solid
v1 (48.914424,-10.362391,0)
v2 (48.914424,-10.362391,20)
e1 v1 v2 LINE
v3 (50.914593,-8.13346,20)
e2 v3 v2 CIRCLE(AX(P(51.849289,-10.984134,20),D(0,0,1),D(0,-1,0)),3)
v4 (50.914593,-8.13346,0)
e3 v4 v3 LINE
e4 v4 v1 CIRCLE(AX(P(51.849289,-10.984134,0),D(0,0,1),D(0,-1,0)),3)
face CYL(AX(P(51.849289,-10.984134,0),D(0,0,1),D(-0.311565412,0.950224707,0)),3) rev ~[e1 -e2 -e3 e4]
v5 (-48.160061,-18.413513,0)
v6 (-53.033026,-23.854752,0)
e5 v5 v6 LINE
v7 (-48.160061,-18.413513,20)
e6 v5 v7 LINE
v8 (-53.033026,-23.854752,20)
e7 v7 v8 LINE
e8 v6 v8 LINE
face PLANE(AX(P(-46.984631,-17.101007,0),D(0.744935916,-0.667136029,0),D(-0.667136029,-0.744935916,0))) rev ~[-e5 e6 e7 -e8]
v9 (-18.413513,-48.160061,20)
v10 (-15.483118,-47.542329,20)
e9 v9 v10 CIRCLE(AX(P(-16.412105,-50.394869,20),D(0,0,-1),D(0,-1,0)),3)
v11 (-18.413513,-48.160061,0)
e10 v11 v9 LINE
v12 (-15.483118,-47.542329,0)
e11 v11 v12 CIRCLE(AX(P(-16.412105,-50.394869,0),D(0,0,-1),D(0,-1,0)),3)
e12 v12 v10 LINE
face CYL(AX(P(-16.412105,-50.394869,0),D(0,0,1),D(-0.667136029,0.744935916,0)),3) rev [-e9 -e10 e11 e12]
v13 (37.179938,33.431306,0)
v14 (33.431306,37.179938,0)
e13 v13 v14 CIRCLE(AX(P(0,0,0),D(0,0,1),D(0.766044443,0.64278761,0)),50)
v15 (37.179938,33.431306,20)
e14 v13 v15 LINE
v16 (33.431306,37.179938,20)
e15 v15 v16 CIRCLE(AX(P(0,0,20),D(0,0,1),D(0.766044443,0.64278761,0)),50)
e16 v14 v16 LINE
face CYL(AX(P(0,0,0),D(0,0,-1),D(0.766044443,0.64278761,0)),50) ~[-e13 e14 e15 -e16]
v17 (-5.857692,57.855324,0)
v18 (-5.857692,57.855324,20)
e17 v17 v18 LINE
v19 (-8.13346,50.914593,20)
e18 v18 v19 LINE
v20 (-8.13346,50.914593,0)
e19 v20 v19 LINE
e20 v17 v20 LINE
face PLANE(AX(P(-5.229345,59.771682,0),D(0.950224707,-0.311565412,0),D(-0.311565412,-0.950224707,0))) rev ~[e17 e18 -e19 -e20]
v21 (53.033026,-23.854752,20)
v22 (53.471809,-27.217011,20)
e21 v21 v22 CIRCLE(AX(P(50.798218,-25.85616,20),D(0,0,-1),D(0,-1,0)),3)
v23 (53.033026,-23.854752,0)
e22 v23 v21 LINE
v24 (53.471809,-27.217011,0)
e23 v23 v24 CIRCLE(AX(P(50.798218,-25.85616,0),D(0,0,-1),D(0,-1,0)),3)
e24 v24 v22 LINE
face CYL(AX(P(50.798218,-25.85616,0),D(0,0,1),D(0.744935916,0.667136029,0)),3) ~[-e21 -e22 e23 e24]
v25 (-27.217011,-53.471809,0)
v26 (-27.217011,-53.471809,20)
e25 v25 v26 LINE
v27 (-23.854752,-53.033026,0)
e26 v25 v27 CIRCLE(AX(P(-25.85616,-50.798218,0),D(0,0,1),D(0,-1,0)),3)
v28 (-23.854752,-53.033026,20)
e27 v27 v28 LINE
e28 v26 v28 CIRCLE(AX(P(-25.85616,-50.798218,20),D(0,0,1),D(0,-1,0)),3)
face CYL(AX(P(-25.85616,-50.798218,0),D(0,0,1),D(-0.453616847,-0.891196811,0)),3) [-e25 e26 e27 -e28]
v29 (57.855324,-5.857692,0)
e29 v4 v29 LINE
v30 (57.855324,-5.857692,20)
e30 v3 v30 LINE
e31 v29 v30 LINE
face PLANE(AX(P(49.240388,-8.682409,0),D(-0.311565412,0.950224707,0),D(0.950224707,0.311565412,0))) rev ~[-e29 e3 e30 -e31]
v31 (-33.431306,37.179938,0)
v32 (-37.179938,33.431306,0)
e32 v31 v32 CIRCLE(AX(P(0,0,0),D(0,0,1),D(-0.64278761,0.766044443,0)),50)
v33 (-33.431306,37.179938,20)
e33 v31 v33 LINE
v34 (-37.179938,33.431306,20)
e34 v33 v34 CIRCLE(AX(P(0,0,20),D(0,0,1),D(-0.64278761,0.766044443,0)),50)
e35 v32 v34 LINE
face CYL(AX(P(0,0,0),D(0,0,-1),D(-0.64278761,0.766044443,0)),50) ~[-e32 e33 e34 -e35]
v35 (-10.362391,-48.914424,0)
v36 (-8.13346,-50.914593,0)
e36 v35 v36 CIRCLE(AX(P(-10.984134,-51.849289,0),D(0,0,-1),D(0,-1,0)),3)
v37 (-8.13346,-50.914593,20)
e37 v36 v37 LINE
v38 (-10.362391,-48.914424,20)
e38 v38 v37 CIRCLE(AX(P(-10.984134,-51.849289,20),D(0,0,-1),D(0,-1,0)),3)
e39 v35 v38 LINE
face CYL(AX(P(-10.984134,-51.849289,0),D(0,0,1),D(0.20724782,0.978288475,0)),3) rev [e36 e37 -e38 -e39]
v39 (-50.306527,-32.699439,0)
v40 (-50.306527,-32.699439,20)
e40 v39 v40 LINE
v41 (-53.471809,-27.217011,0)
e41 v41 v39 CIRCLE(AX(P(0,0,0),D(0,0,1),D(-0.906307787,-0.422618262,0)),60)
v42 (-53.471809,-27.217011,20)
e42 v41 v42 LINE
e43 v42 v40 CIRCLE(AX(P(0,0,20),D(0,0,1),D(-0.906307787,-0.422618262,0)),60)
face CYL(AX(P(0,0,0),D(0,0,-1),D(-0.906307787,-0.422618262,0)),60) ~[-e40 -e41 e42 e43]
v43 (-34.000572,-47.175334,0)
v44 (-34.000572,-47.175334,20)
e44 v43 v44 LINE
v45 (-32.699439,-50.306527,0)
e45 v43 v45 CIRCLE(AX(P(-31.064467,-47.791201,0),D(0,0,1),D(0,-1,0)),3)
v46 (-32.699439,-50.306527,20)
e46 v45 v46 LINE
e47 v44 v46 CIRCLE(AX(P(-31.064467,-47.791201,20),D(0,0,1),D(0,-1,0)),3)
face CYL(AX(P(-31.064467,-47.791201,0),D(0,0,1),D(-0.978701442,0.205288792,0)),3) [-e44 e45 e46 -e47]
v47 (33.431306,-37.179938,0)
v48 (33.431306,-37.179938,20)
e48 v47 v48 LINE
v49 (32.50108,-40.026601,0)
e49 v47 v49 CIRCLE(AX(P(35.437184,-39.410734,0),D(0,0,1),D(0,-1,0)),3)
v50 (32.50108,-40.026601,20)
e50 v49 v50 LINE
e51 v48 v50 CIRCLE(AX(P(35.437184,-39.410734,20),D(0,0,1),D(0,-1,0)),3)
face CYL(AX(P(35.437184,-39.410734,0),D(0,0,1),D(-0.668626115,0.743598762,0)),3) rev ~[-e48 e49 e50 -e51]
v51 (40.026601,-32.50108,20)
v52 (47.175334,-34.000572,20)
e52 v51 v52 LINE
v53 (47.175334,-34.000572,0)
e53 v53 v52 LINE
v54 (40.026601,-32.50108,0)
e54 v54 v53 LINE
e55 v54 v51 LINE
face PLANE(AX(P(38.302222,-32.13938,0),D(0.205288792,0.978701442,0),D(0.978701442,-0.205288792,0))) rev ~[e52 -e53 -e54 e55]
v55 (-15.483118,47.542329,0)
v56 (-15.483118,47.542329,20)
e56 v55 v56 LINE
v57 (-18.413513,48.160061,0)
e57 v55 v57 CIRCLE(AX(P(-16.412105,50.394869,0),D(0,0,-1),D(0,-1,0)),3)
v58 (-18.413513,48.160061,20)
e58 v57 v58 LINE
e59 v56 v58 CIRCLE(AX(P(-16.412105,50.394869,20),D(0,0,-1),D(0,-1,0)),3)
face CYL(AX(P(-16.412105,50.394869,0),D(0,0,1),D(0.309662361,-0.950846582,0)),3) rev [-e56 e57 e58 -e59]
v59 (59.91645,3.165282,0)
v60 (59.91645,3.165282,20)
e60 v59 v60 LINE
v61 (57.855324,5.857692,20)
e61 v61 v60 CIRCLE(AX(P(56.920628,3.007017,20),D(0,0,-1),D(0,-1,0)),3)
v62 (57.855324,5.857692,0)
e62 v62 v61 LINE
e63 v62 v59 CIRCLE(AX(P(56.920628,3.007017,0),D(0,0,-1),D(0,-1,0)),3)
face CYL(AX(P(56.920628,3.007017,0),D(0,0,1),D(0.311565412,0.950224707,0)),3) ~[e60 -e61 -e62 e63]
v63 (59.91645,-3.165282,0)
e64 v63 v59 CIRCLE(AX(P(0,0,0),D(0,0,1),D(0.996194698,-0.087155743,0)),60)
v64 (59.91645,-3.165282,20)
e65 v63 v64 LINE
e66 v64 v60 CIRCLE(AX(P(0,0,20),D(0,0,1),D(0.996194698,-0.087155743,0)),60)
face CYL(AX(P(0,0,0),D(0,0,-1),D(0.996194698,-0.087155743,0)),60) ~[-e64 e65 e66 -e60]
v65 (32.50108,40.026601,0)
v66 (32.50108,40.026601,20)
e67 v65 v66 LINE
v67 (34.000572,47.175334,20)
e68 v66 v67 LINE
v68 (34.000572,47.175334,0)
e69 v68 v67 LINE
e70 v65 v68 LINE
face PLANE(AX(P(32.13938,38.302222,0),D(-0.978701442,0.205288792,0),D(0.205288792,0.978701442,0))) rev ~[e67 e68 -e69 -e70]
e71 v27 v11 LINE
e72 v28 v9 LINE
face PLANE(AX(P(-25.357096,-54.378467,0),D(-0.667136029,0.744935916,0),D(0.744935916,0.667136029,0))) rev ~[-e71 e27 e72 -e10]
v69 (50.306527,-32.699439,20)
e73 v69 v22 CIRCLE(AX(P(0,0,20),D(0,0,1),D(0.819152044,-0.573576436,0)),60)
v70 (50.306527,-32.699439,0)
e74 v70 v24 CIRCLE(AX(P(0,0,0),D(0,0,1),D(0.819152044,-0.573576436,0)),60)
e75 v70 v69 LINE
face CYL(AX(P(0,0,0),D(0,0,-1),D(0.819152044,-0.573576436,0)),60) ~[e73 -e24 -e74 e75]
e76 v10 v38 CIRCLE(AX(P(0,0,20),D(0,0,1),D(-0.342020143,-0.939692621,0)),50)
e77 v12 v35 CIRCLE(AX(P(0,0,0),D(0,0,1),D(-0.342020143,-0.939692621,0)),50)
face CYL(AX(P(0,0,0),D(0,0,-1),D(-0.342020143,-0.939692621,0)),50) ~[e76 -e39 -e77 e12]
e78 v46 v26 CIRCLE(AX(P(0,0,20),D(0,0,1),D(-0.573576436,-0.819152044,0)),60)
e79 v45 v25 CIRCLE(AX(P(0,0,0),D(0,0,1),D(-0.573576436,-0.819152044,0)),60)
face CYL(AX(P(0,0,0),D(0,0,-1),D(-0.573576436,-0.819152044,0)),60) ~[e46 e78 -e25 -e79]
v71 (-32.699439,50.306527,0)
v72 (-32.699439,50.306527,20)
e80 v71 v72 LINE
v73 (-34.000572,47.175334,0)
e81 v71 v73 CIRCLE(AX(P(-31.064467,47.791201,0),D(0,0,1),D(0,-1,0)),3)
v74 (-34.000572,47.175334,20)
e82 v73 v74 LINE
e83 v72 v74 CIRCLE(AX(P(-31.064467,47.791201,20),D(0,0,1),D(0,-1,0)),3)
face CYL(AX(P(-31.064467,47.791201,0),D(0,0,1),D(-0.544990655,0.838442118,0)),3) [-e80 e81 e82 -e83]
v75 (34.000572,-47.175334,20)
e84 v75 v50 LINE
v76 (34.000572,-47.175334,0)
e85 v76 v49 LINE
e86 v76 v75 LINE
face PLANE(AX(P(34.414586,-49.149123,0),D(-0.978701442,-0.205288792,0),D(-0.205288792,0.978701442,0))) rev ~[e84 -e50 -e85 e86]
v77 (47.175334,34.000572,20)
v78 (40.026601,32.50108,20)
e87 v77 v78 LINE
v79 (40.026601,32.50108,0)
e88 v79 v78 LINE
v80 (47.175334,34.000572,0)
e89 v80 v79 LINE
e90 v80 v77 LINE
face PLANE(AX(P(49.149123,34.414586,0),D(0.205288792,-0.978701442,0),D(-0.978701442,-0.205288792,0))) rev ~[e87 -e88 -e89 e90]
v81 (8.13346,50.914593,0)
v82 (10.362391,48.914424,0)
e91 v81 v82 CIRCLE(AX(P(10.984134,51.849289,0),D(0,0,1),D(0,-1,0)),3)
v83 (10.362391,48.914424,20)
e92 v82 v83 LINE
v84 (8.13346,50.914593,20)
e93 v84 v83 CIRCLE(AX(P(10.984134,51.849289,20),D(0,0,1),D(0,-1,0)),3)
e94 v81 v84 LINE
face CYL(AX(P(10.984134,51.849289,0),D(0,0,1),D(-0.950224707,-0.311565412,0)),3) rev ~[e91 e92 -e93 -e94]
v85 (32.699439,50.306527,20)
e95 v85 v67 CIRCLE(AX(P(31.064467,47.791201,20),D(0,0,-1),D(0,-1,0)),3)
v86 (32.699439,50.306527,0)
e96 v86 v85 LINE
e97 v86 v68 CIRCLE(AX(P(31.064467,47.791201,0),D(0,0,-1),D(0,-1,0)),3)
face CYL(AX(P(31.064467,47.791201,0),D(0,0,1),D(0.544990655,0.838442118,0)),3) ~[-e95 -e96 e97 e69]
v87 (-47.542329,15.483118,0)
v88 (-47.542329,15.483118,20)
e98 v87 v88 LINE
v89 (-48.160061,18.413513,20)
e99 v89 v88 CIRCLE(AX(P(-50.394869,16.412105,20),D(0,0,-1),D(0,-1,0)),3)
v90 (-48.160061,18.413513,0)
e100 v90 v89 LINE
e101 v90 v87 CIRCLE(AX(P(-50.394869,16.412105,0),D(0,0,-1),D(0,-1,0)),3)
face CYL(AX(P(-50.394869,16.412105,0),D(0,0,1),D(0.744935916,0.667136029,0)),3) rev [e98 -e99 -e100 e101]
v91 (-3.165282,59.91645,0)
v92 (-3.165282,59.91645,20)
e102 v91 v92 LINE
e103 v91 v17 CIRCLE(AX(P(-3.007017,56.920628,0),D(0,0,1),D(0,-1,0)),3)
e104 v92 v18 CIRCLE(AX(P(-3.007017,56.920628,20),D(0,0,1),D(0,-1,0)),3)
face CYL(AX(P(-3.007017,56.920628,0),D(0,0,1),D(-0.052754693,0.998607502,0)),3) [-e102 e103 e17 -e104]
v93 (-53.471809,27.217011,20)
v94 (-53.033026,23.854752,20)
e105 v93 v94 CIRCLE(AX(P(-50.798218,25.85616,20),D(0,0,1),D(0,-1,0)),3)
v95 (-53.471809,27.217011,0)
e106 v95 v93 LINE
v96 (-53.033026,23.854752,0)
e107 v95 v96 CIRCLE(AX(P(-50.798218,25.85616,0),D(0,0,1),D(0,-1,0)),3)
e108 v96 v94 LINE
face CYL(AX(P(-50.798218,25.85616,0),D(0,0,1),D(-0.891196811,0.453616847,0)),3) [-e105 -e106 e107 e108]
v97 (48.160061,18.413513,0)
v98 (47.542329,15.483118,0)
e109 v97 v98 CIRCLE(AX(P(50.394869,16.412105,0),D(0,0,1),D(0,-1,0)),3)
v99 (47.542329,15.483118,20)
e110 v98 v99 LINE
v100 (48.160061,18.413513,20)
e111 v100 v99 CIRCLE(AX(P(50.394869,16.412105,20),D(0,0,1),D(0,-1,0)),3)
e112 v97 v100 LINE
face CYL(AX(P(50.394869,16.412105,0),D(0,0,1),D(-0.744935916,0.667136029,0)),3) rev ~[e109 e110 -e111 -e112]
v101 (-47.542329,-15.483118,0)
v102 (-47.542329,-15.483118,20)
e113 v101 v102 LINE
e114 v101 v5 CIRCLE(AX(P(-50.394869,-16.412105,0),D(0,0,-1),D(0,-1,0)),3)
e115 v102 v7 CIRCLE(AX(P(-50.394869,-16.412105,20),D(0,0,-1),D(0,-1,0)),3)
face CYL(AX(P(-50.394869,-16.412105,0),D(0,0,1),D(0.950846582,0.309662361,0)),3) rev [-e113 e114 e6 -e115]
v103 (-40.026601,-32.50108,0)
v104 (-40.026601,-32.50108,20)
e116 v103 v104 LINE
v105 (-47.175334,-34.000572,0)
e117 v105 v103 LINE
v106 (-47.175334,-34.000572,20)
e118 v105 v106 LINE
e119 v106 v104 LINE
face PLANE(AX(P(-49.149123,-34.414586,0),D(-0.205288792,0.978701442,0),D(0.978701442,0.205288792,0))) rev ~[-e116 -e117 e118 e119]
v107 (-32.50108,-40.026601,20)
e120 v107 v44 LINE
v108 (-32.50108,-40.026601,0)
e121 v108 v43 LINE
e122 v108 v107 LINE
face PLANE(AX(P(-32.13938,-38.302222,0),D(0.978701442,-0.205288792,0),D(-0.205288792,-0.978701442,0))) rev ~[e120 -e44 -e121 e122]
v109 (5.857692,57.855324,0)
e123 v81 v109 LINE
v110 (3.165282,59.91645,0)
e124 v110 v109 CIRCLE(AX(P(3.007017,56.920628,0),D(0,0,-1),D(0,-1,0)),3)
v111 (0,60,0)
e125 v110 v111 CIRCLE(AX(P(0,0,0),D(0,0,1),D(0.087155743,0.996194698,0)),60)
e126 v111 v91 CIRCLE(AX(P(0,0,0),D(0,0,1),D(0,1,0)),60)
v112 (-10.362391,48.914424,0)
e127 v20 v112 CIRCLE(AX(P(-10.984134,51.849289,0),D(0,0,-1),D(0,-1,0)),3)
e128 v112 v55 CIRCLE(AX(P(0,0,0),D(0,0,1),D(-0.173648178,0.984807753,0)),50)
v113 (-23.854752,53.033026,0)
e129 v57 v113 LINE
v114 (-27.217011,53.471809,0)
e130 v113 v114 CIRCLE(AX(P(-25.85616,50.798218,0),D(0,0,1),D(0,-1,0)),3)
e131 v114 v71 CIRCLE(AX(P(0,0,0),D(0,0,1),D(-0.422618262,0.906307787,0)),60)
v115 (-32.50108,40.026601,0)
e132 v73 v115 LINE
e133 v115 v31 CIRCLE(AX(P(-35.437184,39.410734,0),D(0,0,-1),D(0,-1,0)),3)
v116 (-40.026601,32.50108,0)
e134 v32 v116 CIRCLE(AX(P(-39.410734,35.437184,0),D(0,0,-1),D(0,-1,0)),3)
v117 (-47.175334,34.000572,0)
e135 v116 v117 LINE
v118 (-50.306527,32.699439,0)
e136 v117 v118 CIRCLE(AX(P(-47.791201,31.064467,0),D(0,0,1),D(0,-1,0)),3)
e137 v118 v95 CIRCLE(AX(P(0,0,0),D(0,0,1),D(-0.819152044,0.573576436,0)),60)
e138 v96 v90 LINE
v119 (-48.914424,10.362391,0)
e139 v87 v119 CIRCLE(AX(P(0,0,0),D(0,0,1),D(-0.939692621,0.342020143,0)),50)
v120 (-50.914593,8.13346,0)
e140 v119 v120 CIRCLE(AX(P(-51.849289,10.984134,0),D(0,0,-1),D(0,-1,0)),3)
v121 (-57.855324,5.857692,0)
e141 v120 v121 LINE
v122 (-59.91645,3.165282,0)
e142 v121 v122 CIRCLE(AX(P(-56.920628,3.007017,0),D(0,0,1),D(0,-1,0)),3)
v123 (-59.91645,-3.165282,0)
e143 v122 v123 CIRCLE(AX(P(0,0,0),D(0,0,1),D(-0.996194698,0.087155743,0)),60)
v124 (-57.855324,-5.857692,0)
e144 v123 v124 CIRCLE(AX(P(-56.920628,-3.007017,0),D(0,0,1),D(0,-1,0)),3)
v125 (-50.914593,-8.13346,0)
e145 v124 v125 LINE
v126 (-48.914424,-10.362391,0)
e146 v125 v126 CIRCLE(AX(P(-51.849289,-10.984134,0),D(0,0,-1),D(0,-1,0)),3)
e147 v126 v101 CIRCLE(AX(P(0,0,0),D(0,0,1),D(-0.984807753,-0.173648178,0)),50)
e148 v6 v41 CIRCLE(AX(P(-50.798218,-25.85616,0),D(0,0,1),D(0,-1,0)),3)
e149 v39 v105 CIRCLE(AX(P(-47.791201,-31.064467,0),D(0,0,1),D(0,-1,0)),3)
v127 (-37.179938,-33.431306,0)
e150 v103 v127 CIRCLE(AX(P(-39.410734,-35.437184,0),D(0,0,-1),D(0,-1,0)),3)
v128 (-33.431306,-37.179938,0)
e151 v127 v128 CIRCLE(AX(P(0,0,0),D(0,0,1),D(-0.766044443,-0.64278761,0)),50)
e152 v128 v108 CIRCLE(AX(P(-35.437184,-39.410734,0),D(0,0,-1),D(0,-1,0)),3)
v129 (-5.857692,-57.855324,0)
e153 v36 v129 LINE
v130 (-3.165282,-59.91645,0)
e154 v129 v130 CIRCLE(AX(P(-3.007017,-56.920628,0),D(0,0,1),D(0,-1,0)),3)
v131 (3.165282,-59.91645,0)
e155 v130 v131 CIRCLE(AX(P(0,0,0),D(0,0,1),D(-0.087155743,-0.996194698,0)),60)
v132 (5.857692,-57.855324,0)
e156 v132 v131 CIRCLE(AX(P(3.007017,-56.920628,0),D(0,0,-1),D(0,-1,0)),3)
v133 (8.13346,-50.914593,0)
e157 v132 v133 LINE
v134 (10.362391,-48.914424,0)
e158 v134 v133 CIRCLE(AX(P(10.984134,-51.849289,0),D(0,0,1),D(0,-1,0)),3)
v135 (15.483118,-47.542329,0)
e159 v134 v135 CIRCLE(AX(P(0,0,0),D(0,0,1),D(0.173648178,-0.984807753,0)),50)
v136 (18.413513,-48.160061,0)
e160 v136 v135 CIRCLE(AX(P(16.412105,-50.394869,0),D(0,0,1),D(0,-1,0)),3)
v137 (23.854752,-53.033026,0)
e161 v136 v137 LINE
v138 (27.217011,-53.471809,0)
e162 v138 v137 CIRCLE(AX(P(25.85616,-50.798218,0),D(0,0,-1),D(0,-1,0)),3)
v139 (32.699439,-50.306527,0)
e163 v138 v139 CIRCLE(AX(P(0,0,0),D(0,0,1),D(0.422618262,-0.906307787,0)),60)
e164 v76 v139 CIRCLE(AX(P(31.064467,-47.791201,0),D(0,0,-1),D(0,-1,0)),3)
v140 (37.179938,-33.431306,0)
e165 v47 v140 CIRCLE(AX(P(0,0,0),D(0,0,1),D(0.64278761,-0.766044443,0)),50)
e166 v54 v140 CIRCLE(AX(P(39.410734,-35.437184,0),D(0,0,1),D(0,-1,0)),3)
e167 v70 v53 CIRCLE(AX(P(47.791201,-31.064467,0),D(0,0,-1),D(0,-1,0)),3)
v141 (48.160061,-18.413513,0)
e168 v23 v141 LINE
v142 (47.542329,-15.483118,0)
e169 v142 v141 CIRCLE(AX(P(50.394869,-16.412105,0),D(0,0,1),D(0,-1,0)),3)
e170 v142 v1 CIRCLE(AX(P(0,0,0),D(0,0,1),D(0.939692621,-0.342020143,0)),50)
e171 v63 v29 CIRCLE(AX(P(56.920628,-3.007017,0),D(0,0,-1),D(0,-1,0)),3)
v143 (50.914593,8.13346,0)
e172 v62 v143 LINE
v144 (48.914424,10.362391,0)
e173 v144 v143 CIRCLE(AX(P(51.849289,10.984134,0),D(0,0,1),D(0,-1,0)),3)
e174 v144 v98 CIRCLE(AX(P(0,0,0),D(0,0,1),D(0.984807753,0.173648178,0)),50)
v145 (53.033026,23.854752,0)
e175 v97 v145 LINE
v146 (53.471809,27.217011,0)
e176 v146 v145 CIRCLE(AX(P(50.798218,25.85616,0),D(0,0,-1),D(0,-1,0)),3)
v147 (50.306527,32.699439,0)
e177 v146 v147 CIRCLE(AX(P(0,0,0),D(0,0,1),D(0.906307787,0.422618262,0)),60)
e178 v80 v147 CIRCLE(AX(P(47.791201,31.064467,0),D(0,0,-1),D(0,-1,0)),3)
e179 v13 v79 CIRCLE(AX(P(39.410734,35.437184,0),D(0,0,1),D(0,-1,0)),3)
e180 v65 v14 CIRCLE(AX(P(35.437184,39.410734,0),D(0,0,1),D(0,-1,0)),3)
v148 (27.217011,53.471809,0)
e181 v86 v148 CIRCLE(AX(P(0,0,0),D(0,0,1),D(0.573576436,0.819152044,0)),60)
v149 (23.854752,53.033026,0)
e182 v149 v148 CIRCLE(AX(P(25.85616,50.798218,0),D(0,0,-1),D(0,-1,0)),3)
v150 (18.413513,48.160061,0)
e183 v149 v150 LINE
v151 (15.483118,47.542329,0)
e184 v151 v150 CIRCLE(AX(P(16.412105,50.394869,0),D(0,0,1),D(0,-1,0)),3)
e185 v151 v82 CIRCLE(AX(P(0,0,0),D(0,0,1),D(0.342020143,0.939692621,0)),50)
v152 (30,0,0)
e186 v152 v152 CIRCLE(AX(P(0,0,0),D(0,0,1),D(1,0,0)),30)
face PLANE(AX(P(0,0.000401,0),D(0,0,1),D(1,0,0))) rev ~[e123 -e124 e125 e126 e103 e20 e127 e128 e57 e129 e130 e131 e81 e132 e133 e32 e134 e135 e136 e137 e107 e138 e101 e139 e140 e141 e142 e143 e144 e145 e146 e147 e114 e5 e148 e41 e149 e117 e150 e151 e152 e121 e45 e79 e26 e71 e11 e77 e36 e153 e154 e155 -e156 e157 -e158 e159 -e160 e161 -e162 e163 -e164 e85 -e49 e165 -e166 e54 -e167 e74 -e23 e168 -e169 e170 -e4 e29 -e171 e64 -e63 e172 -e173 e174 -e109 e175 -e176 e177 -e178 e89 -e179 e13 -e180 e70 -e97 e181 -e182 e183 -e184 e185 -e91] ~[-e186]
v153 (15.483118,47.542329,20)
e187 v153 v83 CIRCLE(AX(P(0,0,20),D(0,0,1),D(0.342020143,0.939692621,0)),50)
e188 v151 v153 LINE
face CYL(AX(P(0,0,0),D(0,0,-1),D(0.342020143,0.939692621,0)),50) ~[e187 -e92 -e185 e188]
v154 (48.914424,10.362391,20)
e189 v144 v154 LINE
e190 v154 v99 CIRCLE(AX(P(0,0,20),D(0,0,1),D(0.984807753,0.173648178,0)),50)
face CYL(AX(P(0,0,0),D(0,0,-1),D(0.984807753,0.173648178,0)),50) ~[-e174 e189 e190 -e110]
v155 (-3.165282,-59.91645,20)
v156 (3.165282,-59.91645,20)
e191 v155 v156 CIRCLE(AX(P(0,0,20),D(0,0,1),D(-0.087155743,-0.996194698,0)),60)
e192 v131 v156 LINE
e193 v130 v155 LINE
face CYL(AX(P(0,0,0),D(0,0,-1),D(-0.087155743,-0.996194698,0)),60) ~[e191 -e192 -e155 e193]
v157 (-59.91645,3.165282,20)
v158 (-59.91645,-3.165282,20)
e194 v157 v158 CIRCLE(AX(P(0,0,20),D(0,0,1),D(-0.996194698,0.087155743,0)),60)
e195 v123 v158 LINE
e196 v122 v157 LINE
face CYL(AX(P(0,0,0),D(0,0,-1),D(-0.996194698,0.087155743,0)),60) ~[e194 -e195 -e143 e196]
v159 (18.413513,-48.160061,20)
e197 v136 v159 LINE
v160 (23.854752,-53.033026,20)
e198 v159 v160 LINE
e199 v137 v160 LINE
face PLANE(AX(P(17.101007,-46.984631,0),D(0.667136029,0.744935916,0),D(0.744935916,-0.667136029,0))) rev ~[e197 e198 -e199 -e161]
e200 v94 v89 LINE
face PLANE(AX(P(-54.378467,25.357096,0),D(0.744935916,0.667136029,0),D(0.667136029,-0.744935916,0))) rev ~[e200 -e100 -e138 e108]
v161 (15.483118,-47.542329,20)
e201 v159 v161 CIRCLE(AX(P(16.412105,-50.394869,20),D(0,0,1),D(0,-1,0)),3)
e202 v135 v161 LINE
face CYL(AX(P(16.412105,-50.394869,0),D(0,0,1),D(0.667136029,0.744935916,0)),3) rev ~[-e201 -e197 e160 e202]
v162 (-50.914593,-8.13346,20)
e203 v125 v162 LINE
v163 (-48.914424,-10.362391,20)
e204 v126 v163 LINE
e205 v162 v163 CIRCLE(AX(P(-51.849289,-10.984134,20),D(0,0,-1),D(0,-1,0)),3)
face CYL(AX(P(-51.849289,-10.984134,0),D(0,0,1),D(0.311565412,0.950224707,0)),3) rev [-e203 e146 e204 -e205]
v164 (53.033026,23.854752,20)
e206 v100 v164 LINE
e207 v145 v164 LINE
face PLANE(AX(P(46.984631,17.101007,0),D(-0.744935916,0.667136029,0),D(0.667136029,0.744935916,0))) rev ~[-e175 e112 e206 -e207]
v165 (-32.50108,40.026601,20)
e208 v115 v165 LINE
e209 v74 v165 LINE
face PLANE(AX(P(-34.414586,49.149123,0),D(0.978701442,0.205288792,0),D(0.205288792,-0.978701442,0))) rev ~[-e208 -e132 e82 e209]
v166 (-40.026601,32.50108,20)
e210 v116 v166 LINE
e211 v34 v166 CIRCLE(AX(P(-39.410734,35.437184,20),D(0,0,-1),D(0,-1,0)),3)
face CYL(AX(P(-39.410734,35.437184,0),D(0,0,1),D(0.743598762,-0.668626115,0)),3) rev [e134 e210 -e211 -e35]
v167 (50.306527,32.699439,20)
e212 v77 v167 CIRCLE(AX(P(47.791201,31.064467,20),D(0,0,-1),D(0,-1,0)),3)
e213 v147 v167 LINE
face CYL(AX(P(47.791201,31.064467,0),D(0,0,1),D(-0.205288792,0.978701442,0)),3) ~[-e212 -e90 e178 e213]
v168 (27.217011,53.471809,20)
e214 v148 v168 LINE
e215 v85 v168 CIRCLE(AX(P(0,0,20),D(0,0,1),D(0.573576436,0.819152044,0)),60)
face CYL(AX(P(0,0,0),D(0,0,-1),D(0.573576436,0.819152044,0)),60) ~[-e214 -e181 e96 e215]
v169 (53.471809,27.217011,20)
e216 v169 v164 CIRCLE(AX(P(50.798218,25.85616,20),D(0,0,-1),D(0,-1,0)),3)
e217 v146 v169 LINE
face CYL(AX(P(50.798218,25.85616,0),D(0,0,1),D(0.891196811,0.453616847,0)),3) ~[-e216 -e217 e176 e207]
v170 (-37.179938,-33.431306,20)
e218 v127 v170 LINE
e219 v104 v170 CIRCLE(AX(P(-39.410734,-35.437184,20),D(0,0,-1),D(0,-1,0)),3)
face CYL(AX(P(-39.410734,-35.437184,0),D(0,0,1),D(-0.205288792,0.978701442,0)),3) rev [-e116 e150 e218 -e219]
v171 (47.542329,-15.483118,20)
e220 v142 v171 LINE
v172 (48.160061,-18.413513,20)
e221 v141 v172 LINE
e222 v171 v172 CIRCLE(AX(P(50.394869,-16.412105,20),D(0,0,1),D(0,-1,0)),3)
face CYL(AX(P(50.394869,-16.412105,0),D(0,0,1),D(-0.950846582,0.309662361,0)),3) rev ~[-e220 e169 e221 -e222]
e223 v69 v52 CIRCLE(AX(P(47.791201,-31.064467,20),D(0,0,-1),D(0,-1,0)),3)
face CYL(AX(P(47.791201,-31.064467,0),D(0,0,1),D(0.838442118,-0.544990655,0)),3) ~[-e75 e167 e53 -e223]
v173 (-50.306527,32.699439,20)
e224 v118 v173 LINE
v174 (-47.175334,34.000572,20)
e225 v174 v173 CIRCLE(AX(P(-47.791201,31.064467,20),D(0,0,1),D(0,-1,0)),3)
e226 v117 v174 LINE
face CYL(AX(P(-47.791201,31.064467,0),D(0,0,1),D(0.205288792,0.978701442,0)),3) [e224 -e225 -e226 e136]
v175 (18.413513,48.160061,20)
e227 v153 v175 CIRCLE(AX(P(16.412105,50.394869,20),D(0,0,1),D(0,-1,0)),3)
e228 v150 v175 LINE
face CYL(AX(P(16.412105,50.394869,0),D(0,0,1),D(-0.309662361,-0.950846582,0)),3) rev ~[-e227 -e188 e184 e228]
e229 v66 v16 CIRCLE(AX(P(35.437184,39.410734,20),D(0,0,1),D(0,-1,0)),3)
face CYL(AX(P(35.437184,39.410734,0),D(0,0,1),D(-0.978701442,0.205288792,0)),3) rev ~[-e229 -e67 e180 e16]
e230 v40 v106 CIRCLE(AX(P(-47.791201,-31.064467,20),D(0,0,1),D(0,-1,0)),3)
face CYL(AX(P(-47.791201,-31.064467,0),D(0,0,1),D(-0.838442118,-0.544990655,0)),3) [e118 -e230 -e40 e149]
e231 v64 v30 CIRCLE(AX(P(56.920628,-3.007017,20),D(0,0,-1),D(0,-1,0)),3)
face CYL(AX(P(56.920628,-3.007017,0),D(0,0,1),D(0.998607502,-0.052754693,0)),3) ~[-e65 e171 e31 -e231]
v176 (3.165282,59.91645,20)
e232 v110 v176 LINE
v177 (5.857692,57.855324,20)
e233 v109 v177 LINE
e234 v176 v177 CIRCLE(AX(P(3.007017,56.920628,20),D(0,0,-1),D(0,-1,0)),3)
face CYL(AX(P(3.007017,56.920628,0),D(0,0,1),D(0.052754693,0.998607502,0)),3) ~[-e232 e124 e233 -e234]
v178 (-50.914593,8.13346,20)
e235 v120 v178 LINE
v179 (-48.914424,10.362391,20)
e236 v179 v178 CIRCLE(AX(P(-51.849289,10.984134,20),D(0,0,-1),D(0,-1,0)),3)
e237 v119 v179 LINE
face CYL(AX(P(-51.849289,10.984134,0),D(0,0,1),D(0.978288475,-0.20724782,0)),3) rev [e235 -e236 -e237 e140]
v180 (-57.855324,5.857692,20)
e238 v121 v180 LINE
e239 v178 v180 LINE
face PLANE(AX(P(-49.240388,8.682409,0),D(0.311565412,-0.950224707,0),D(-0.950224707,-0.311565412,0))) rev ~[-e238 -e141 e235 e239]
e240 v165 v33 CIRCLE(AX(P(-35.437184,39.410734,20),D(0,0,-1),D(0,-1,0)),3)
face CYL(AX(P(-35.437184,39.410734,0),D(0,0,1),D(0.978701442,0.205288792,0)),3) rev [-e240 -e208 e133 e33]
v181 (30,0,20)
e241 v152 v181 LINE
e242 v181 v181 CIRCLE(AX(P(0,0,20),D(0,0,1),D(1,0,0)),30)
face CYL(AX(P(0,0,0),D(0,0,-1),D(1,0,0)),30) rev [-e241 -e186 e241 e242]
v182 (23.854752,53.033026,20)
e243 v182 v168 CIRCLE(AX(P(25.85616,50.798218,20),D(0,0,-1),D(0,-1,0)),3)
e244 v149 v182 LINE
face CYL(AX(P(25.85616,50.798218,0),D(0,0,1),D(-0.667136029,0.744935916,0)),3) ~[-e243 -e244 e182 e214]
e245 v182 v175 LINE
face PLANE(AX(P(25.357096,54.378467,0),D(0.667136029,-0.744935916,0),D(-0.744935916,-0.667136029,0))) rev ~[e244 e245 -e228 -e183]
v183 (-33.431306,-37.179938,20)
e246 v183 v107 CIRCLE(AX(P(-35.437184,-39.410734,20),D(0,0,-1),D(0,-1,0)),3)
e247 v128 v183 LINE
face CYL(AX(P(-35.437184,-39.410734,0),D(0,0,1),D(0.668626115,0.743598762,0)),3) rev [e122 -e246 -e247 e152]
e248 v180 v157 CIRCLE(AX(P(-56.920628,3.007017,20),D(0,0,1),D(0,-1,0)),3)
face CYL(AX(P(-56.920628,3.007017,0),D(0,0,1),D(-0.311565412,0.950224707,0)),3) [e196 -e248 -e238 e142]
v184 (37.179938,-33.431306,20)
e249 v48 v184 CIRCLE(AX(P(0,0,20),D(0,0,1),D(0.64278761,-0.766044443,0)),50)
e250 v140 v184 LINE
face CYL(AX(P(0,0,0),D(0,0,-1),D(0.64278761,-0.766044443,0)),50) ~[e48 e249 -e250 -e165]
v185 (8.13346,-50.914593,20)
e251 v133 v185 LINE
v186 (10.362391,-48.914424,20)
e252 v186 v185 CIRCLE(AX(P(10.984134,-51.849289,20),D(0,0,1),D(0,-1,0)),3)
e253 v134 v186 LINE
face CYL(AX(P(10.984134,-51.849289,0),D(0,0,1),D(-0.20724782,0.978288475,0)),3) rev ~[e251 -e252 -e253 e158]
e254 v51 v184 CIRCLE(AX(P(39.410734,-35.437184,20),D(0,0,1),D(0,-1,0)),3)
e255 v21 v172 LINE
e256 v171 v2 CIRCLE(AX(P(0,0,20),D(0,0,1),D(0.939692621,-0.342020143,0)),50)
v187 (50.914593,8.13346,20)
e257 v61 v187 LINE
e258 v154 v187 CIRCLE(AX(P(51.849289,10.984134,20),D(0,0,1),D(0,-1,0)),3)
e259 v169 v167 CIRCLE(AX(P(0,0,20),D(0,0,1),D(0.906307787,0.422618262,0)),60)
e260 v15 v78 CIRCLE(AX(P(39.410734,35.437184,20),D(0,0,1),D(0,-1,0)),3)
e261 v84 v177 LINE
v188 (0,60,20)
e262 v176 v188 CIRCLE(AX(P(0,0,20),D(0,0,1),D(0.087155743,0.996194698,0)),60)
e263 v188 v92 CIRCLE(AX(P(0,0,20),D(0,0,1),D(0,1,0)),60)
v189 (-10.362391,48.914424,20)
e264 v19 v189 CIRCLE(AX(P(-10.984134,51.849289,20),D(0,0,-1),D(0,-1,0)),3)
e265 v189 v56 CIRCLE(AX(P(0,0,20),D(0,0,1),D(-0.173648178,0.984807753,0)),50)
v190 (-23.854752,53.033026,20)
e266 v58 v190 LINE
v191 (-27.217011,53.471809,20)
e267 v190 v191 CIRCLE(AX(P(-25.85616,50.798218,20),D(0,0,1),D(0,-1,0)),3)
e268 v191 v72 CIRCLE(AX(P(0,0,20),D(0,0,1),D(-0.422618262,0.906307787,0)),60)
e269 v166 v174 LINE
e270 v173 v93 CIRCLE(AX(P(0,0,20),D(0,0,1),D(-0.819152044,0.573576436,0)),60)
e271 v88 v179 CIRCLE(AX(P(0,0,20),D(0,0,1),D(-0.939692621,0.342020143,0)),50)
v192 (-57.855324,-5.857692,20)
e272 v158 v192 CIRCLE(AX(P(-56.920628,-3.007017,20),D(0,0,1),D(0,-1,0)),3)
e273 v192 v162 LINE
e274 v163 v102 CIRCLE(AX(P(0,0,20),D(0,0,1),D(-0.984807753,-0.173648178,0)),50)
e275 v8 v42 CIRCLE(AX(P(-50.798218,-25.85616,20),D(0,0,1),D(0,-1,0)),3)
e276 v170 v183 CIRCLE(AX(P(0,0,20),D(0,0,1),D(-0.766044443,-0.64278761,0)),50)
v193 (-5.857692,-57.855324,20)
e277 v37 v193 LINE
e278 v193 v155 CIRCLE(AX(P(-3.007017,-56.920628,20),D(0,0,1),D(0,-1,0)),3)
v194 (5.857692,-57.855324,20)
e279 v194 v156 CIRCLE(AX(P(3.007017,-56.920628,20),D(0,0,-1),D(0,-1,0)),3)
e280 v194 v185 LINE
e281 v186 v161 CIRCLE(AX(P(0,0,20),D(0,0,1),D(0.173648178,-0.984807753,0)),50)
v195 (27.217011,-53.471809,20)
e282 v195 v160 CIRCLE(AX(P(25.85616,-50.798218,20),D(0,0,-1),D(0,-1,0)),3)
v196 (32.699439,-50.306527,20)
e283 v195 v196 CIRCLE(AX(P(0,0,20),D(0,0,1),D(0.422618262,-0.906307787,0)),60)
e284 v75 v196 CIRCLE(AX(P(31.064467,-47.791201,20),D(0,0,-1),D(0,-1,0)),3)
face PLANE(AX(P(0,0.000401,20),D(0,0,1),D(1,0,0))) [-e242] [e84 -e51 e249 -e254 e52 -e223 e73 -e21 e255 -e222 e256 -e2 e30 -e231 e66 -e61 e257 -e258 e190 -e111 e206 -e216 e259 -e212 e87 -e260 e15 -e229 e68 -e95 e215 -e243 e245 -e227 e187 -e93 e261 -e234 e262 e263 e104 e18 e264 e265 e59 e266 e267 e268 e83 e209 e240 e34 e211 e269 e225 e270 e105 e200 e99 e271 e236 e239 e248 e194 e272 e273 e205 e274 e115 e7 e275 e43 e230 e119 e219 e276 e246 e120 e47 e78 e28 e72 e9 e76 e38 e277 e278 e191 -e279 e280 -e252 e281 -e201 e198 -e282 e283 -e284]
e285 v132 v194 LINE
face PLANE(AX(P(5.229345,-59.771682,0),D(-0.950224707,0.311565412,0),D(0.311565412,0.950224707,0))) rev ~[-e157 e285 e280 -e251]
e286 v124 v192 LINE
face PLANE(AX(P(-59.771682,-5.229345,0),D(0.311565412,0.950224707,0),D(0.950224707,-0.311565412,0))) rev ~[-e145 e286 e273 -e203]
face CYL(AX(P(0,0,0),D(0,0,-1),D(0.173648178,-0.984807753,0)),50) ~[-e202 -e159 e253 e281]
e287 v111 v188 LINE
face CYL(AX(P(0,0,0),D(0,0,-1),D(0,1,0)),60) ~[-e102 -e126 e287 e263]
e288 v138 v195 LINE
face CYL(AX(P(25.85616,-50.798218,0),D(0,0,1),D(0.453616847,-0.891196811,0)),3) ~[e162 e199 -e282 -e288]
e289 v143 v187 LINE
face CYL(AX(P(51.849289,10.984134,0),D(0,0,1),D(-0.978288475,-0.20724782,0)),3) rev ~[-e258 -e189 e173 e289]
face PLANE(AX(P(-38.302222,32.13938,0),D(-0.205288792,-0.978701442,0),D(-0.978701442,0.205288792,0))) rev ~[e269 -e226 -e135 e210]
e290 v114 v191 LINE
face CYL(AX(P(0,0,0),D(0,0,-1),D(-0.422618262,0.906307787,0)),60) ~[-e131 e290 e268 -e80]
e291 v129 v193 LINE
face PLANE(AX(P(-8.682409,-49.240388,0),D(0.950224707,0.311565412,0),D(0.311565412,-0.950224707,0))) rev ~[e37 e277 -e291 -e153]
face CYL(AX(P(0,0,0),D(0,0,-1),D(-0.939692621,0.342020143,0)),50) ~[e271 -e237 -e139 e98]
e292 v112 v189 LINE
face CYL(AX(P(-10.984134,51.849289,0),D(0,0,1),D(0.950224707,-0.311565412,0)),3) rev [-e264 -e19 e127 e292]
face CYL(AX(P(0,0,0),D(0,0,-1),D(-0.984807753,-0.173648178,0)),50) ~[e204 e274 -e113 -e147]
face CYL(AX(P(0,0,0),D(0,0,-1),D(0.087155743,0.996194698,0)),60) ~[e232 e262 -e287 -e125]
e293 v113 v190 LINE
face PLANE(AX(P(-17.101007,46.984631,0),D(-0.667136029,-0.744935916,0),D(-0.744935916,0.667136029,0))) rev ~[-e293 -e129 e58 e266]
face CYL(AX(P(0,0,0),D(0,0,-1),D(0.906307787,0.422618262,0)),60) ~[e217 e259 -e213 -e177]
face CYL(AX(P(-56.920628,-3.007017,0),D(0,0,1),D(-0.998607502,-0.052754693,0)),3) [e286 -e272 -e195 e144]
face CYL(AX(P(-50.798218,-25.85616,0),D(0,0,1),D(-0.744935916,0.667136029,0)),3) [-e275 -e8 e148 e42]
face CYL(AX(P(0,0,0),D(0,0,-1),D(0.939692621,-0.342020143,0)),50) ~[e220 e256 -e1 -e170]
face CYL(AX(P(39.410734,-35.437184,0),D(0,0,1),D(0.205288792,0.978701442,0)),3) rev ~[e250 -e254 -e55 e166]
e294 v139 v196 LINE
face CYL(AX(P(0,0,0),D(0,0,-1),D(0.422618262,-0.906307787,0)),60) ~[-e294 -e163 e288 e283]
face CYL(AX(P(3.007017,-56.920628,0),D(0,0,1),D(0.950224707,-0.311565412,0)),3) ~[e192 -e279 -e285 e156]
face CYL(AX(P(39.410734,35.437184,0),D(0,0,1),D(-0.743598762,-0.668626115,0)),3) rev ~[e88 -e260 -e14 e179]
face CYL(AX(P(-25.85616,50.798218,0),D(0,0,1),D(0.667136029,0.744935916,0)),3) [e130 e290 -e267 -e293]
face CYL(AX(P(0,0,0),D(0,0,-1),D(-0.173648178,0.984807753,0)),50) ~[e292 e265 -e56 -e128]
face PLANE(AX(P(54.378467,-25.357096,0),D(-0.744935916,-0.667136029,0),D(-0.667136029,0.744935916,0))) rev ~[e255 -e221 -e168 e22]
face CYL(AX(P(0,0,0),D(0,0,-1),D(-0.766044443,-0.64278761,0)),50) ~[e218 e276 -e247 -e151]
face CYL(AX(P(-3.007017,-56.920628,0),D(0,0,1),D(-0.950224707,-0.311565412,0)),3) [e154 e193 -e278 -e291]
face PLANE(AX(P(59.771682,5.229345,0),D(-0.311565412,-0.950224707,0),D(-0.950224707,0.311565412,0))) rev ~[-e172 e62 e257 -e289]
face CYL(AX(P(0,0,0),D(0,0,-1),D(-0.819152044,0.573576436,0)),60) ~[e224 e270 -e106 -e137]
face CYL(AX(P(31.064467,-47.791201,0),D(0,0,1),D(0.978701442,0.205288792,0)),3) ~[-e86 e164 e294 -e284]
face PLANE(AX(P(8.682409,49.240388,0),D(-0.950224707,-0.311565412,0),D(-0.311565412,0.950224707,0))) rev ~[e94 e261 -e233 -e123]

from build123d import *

# Parameters (mm, degrees)
SKETCH1_R           = 30
BOSS_EXTRUDE1_DEPTH = 20
FILLET1_R           = 3


with BuildPart() as part:
    # Sketch1 → Boss-Extrude1 (new body)
    with BuildSketch(Plane.XY):
        with BuildLine():
            ThreePointArc((0, 60), (-2.617163242, 59.942893295), (-5.229344565, 59.771681886))
            Line((-5.229344565, 59.771681886), (-8.682408883, 49.240387651))
            ThreePointArc((-8.682408883, 49.240387651), (-12.940952255, 48.296291314), (-17.101007166, 46.984631039))
            Line((-17.101007166, 46.984631039), (-25.357095704, 54.378467222))
            ThreePointArc((-25.357095704, 54.378467222), (-30, 51.961524227), (-34.414586181, 49.149122657))
            Line((-34.414586181, 49.149122657), (-32.139380484, 38.302222156))
            ThreePointArc((-32.139380484, 38.302222156), (-35.355339059, 35.355339059), (-38.302222156, 32.139380484))
            Line((-38.302222156, 32.139380484), (-49.149122657, 34.414586181))
            ThreePointArc((-49.149122657, 34.414586181), (-51.961524227, 30), (-54.378467222, 25.357095704))
            Line((-54.378467222, 25.357095704), (-46.984631039, 17.101007166))
            ThreePointArc((-46.984631039, 17.101007166), (-48.296291314, 12.940952255), (-49.240387651, 8.682408883))
            Line((-49.240387651, 8.682408883), (-59.771681886, 5.229344565))
            ThreePointArc((-59.771681886, 5.229344565), (-60, 0), (-59.771681886, -5.229344565))
            Line((-59.771681886, -5.229344565), (-49.240387651, -8.682408883))
            ThreePointArc((-49.240387651, -8.682408883), (-48.296291314, -12.940952255), (-46.984631039, -17.101007166))
            Line((-46.984631039, -17.101007166), (-54.378467222, -25.357095704))
            ThreePointArc((-54.378467222, -25.357095704), (-51.961524227, -30), (-49.149122657, -34.414586181))
            Line((-49.149122657, -34.414586181), (-38.302222156, -32.139380484))
            ThreePointArc((-38.302222156, -32.139380484), (-35.355339059, -35.355339059), (-32.139380484, -38.302222156))
            Line((-32.139380484, -38.302222156), (-34.414586181, -49.149122657))
            ThreePointArc((-34.414586181, -49.149122657), (-30, -51.961524227), (-25.357095704, -54.378467222))
            Line((-25.357095704, -54.378467222), (-17.101007166, -46.984631039))
            ThreePointArc((-17.101007166, -46.984631039), (-12.940952255, -48.296291314), (-8.682408883, -49.240387651))
            Line((-8.682408883, -49.240387651), (-5.229344565, -59.771681886))
            ThreePointArc((-5.229344565, -59.771681886), (0, -60), (5.229344565, -59.771681886))
            Line((5.229344565, -59.771681886), (8.682408883, -49.240387651))
            ThreePointArc((8.682408883, -49.240387651), (12.940952255, -48.296291314), (17.101007166, -46.984631039))
            Line((17.101007166, -46.984631039), (25.357095704, -54.378467222))
            ThreePointArc((25.357095704, -54.378467222), (30, -51.961524227), (34.414586181, -49.149122657))
            Line((34.414586181, -49.149122657), (32.139380484, -38.302222156))
            ThreePointArc((32.139380484, -38.302222156), (35.355339059, -35.355339059), (38.302222156, -32.139380484))
            Line((38.302222156, -32.139380484), (49.149122657, -34.414586181))
            ThreePointArc((49.149122657, -34.414586181), (51.961524227, -30), (54.378467222, -25.357095704))
            Line((54.378467222, -25.357095704), (46.984631039, -17.101007166))
            ThreePointArc((46.984631039, -17.101007166), (48.296291314, -12.940952255), (49.240387651, -8.682408883))
            Line((49.240387651, -8.682408883), (59.771681886, -5.229344565))
            ThreePointArc((59.771681886, -5.229344565), (60, 0), (59.771681886, 5.229344565))
            Line((59.771681886, 5.229344565), (49.240387651, 8.682408883))
            ThreePointArc((49.240387651, 8.682408883), (48.296291314, 12.940952255), (46.984631039, 17.101007166))
            Line((46.984631039, 17.101007166), (54.378467222, 25.357095704))
            ThreePointArc((54.378467222, 25.357095704), (51.961524227, 30), (49.149122657, 34.414586181))
            Line((49.149122657, 34.414586181), (38.302222156, 32.139380484))
            ThreePointArc((38.302222156, 32.139380484), (35.355339059, 35.355339059), (32.139380484, 38.302222156))
            Line((32.139380484, 38.302222156), (34.414586181, 49.149122657))
            ThreePointArc((34.414586181, 49.149122657), (30, 51.961524227), (25.357095704, 54.378467222))
            Line((25.357095704, 54.378467222), (17.101007166, 46.984631039))
            ThreePointArc((17.101007166, 46.984631039), (12.940952255, 48.296291314), (8.682408883, 49.240387651))
            Line((8.682408883, 49.240387651), (5.229344565, 59.771681886))
            ThreePointArc((5.229344565, 59.771681886), (2.617163242, 59.942893295), (0, 60))
        make_face()
        Circle(SKETCH1_R, mode=Mode.SUBTRACT)
    extrude(amount=BOSS_EXTRUDE1_DEPTH)

    # Fillet1
    fillet1_edges = [part.edges().sort_by_distance(p)[0] for p in [
        (-34.414586181, 49.149122657, 10),
        (-25.357095704, 54.378467222, 10),
        (-17.101007166, 46.984631039, 10),
        (-8.682408883, 49.240387651, 10),
        (-5.229344565, 59.771681886, 10),
        (5.229344565, 59.771681886, 10),
        (8.682408883, 49.240387651, 10),
        (17.101007166, 46.984631039, 10),
        (25.357095704, 54.378467222, 10),
        (34.414586181, 49.149122657, 10),
        (32.139380484, 38.302222156, 10),
        (38.302222156, 32.139380484, 10),
        (49.149122657, 34.414586181, 10),
        (54.378467222, 25.357095704, 10),
        (46.984631039, 17.101007166, 10),
        (49.240387651, 8.682408883, 10),
        (59.771681886, 5.229344565, 10),
        (59.771681886, -5.229344565, 10),
        (49.240387651, -8.682408883, 10),
        (46.984631039, -17.101007166, 10),
        (54.378467222, -25.357095704, 10),
        (49.149122657, -34.414586181, 10),
        (38.302222156, -32.139380484, 10),
        (32.139380484, -38.302222156, 10),
        (34.414586181, -49.149122657, 10),
        (25.357095704, -54.378467222, 10),
        (17.101007166, -46.984631039, 10),
        (8.682408883, -49.240387651, 10),
        (5.229344565, -59.771681886, 10),
        (-5.229344565, -59.771681886, 10),
        (-8.682408883, -49.240387651, 10),
        (-17.101007166, -46.984631039, 10),
        (-25.357095704, -54.378467222, 10),
        (-34.414586181, -49.149122657, 10),
        (-32.139380484, -38.302222156, 10),
        (-38.302222156, -32.139380484, 10),
        (-49.149122657, -34.414586181, 10),
        (-54.378467222, -25.357095704, 10),
        (-46.984631039, -17.101007166, 10),
        (-49.240387651, -8.682408883, 10),
        (-59.771681886, -5.229344565, 10),
        (-59.771681886, 5.229344565, 10),
        (-49.240387651, 8.682408883, 10),
        (-46.984631039, 17.101007166, 10),
        (-54.378467222, 25.357095704, 10),
        (-49.149122657, 34.414586181, 10),
        (-38.302222156, 32.139380484, 10),
        (-32.139380484, 38.302222156, 10),
    ]]
    fillet(fillet1_edges, radius=FILLET1_R)


solid = part.part
